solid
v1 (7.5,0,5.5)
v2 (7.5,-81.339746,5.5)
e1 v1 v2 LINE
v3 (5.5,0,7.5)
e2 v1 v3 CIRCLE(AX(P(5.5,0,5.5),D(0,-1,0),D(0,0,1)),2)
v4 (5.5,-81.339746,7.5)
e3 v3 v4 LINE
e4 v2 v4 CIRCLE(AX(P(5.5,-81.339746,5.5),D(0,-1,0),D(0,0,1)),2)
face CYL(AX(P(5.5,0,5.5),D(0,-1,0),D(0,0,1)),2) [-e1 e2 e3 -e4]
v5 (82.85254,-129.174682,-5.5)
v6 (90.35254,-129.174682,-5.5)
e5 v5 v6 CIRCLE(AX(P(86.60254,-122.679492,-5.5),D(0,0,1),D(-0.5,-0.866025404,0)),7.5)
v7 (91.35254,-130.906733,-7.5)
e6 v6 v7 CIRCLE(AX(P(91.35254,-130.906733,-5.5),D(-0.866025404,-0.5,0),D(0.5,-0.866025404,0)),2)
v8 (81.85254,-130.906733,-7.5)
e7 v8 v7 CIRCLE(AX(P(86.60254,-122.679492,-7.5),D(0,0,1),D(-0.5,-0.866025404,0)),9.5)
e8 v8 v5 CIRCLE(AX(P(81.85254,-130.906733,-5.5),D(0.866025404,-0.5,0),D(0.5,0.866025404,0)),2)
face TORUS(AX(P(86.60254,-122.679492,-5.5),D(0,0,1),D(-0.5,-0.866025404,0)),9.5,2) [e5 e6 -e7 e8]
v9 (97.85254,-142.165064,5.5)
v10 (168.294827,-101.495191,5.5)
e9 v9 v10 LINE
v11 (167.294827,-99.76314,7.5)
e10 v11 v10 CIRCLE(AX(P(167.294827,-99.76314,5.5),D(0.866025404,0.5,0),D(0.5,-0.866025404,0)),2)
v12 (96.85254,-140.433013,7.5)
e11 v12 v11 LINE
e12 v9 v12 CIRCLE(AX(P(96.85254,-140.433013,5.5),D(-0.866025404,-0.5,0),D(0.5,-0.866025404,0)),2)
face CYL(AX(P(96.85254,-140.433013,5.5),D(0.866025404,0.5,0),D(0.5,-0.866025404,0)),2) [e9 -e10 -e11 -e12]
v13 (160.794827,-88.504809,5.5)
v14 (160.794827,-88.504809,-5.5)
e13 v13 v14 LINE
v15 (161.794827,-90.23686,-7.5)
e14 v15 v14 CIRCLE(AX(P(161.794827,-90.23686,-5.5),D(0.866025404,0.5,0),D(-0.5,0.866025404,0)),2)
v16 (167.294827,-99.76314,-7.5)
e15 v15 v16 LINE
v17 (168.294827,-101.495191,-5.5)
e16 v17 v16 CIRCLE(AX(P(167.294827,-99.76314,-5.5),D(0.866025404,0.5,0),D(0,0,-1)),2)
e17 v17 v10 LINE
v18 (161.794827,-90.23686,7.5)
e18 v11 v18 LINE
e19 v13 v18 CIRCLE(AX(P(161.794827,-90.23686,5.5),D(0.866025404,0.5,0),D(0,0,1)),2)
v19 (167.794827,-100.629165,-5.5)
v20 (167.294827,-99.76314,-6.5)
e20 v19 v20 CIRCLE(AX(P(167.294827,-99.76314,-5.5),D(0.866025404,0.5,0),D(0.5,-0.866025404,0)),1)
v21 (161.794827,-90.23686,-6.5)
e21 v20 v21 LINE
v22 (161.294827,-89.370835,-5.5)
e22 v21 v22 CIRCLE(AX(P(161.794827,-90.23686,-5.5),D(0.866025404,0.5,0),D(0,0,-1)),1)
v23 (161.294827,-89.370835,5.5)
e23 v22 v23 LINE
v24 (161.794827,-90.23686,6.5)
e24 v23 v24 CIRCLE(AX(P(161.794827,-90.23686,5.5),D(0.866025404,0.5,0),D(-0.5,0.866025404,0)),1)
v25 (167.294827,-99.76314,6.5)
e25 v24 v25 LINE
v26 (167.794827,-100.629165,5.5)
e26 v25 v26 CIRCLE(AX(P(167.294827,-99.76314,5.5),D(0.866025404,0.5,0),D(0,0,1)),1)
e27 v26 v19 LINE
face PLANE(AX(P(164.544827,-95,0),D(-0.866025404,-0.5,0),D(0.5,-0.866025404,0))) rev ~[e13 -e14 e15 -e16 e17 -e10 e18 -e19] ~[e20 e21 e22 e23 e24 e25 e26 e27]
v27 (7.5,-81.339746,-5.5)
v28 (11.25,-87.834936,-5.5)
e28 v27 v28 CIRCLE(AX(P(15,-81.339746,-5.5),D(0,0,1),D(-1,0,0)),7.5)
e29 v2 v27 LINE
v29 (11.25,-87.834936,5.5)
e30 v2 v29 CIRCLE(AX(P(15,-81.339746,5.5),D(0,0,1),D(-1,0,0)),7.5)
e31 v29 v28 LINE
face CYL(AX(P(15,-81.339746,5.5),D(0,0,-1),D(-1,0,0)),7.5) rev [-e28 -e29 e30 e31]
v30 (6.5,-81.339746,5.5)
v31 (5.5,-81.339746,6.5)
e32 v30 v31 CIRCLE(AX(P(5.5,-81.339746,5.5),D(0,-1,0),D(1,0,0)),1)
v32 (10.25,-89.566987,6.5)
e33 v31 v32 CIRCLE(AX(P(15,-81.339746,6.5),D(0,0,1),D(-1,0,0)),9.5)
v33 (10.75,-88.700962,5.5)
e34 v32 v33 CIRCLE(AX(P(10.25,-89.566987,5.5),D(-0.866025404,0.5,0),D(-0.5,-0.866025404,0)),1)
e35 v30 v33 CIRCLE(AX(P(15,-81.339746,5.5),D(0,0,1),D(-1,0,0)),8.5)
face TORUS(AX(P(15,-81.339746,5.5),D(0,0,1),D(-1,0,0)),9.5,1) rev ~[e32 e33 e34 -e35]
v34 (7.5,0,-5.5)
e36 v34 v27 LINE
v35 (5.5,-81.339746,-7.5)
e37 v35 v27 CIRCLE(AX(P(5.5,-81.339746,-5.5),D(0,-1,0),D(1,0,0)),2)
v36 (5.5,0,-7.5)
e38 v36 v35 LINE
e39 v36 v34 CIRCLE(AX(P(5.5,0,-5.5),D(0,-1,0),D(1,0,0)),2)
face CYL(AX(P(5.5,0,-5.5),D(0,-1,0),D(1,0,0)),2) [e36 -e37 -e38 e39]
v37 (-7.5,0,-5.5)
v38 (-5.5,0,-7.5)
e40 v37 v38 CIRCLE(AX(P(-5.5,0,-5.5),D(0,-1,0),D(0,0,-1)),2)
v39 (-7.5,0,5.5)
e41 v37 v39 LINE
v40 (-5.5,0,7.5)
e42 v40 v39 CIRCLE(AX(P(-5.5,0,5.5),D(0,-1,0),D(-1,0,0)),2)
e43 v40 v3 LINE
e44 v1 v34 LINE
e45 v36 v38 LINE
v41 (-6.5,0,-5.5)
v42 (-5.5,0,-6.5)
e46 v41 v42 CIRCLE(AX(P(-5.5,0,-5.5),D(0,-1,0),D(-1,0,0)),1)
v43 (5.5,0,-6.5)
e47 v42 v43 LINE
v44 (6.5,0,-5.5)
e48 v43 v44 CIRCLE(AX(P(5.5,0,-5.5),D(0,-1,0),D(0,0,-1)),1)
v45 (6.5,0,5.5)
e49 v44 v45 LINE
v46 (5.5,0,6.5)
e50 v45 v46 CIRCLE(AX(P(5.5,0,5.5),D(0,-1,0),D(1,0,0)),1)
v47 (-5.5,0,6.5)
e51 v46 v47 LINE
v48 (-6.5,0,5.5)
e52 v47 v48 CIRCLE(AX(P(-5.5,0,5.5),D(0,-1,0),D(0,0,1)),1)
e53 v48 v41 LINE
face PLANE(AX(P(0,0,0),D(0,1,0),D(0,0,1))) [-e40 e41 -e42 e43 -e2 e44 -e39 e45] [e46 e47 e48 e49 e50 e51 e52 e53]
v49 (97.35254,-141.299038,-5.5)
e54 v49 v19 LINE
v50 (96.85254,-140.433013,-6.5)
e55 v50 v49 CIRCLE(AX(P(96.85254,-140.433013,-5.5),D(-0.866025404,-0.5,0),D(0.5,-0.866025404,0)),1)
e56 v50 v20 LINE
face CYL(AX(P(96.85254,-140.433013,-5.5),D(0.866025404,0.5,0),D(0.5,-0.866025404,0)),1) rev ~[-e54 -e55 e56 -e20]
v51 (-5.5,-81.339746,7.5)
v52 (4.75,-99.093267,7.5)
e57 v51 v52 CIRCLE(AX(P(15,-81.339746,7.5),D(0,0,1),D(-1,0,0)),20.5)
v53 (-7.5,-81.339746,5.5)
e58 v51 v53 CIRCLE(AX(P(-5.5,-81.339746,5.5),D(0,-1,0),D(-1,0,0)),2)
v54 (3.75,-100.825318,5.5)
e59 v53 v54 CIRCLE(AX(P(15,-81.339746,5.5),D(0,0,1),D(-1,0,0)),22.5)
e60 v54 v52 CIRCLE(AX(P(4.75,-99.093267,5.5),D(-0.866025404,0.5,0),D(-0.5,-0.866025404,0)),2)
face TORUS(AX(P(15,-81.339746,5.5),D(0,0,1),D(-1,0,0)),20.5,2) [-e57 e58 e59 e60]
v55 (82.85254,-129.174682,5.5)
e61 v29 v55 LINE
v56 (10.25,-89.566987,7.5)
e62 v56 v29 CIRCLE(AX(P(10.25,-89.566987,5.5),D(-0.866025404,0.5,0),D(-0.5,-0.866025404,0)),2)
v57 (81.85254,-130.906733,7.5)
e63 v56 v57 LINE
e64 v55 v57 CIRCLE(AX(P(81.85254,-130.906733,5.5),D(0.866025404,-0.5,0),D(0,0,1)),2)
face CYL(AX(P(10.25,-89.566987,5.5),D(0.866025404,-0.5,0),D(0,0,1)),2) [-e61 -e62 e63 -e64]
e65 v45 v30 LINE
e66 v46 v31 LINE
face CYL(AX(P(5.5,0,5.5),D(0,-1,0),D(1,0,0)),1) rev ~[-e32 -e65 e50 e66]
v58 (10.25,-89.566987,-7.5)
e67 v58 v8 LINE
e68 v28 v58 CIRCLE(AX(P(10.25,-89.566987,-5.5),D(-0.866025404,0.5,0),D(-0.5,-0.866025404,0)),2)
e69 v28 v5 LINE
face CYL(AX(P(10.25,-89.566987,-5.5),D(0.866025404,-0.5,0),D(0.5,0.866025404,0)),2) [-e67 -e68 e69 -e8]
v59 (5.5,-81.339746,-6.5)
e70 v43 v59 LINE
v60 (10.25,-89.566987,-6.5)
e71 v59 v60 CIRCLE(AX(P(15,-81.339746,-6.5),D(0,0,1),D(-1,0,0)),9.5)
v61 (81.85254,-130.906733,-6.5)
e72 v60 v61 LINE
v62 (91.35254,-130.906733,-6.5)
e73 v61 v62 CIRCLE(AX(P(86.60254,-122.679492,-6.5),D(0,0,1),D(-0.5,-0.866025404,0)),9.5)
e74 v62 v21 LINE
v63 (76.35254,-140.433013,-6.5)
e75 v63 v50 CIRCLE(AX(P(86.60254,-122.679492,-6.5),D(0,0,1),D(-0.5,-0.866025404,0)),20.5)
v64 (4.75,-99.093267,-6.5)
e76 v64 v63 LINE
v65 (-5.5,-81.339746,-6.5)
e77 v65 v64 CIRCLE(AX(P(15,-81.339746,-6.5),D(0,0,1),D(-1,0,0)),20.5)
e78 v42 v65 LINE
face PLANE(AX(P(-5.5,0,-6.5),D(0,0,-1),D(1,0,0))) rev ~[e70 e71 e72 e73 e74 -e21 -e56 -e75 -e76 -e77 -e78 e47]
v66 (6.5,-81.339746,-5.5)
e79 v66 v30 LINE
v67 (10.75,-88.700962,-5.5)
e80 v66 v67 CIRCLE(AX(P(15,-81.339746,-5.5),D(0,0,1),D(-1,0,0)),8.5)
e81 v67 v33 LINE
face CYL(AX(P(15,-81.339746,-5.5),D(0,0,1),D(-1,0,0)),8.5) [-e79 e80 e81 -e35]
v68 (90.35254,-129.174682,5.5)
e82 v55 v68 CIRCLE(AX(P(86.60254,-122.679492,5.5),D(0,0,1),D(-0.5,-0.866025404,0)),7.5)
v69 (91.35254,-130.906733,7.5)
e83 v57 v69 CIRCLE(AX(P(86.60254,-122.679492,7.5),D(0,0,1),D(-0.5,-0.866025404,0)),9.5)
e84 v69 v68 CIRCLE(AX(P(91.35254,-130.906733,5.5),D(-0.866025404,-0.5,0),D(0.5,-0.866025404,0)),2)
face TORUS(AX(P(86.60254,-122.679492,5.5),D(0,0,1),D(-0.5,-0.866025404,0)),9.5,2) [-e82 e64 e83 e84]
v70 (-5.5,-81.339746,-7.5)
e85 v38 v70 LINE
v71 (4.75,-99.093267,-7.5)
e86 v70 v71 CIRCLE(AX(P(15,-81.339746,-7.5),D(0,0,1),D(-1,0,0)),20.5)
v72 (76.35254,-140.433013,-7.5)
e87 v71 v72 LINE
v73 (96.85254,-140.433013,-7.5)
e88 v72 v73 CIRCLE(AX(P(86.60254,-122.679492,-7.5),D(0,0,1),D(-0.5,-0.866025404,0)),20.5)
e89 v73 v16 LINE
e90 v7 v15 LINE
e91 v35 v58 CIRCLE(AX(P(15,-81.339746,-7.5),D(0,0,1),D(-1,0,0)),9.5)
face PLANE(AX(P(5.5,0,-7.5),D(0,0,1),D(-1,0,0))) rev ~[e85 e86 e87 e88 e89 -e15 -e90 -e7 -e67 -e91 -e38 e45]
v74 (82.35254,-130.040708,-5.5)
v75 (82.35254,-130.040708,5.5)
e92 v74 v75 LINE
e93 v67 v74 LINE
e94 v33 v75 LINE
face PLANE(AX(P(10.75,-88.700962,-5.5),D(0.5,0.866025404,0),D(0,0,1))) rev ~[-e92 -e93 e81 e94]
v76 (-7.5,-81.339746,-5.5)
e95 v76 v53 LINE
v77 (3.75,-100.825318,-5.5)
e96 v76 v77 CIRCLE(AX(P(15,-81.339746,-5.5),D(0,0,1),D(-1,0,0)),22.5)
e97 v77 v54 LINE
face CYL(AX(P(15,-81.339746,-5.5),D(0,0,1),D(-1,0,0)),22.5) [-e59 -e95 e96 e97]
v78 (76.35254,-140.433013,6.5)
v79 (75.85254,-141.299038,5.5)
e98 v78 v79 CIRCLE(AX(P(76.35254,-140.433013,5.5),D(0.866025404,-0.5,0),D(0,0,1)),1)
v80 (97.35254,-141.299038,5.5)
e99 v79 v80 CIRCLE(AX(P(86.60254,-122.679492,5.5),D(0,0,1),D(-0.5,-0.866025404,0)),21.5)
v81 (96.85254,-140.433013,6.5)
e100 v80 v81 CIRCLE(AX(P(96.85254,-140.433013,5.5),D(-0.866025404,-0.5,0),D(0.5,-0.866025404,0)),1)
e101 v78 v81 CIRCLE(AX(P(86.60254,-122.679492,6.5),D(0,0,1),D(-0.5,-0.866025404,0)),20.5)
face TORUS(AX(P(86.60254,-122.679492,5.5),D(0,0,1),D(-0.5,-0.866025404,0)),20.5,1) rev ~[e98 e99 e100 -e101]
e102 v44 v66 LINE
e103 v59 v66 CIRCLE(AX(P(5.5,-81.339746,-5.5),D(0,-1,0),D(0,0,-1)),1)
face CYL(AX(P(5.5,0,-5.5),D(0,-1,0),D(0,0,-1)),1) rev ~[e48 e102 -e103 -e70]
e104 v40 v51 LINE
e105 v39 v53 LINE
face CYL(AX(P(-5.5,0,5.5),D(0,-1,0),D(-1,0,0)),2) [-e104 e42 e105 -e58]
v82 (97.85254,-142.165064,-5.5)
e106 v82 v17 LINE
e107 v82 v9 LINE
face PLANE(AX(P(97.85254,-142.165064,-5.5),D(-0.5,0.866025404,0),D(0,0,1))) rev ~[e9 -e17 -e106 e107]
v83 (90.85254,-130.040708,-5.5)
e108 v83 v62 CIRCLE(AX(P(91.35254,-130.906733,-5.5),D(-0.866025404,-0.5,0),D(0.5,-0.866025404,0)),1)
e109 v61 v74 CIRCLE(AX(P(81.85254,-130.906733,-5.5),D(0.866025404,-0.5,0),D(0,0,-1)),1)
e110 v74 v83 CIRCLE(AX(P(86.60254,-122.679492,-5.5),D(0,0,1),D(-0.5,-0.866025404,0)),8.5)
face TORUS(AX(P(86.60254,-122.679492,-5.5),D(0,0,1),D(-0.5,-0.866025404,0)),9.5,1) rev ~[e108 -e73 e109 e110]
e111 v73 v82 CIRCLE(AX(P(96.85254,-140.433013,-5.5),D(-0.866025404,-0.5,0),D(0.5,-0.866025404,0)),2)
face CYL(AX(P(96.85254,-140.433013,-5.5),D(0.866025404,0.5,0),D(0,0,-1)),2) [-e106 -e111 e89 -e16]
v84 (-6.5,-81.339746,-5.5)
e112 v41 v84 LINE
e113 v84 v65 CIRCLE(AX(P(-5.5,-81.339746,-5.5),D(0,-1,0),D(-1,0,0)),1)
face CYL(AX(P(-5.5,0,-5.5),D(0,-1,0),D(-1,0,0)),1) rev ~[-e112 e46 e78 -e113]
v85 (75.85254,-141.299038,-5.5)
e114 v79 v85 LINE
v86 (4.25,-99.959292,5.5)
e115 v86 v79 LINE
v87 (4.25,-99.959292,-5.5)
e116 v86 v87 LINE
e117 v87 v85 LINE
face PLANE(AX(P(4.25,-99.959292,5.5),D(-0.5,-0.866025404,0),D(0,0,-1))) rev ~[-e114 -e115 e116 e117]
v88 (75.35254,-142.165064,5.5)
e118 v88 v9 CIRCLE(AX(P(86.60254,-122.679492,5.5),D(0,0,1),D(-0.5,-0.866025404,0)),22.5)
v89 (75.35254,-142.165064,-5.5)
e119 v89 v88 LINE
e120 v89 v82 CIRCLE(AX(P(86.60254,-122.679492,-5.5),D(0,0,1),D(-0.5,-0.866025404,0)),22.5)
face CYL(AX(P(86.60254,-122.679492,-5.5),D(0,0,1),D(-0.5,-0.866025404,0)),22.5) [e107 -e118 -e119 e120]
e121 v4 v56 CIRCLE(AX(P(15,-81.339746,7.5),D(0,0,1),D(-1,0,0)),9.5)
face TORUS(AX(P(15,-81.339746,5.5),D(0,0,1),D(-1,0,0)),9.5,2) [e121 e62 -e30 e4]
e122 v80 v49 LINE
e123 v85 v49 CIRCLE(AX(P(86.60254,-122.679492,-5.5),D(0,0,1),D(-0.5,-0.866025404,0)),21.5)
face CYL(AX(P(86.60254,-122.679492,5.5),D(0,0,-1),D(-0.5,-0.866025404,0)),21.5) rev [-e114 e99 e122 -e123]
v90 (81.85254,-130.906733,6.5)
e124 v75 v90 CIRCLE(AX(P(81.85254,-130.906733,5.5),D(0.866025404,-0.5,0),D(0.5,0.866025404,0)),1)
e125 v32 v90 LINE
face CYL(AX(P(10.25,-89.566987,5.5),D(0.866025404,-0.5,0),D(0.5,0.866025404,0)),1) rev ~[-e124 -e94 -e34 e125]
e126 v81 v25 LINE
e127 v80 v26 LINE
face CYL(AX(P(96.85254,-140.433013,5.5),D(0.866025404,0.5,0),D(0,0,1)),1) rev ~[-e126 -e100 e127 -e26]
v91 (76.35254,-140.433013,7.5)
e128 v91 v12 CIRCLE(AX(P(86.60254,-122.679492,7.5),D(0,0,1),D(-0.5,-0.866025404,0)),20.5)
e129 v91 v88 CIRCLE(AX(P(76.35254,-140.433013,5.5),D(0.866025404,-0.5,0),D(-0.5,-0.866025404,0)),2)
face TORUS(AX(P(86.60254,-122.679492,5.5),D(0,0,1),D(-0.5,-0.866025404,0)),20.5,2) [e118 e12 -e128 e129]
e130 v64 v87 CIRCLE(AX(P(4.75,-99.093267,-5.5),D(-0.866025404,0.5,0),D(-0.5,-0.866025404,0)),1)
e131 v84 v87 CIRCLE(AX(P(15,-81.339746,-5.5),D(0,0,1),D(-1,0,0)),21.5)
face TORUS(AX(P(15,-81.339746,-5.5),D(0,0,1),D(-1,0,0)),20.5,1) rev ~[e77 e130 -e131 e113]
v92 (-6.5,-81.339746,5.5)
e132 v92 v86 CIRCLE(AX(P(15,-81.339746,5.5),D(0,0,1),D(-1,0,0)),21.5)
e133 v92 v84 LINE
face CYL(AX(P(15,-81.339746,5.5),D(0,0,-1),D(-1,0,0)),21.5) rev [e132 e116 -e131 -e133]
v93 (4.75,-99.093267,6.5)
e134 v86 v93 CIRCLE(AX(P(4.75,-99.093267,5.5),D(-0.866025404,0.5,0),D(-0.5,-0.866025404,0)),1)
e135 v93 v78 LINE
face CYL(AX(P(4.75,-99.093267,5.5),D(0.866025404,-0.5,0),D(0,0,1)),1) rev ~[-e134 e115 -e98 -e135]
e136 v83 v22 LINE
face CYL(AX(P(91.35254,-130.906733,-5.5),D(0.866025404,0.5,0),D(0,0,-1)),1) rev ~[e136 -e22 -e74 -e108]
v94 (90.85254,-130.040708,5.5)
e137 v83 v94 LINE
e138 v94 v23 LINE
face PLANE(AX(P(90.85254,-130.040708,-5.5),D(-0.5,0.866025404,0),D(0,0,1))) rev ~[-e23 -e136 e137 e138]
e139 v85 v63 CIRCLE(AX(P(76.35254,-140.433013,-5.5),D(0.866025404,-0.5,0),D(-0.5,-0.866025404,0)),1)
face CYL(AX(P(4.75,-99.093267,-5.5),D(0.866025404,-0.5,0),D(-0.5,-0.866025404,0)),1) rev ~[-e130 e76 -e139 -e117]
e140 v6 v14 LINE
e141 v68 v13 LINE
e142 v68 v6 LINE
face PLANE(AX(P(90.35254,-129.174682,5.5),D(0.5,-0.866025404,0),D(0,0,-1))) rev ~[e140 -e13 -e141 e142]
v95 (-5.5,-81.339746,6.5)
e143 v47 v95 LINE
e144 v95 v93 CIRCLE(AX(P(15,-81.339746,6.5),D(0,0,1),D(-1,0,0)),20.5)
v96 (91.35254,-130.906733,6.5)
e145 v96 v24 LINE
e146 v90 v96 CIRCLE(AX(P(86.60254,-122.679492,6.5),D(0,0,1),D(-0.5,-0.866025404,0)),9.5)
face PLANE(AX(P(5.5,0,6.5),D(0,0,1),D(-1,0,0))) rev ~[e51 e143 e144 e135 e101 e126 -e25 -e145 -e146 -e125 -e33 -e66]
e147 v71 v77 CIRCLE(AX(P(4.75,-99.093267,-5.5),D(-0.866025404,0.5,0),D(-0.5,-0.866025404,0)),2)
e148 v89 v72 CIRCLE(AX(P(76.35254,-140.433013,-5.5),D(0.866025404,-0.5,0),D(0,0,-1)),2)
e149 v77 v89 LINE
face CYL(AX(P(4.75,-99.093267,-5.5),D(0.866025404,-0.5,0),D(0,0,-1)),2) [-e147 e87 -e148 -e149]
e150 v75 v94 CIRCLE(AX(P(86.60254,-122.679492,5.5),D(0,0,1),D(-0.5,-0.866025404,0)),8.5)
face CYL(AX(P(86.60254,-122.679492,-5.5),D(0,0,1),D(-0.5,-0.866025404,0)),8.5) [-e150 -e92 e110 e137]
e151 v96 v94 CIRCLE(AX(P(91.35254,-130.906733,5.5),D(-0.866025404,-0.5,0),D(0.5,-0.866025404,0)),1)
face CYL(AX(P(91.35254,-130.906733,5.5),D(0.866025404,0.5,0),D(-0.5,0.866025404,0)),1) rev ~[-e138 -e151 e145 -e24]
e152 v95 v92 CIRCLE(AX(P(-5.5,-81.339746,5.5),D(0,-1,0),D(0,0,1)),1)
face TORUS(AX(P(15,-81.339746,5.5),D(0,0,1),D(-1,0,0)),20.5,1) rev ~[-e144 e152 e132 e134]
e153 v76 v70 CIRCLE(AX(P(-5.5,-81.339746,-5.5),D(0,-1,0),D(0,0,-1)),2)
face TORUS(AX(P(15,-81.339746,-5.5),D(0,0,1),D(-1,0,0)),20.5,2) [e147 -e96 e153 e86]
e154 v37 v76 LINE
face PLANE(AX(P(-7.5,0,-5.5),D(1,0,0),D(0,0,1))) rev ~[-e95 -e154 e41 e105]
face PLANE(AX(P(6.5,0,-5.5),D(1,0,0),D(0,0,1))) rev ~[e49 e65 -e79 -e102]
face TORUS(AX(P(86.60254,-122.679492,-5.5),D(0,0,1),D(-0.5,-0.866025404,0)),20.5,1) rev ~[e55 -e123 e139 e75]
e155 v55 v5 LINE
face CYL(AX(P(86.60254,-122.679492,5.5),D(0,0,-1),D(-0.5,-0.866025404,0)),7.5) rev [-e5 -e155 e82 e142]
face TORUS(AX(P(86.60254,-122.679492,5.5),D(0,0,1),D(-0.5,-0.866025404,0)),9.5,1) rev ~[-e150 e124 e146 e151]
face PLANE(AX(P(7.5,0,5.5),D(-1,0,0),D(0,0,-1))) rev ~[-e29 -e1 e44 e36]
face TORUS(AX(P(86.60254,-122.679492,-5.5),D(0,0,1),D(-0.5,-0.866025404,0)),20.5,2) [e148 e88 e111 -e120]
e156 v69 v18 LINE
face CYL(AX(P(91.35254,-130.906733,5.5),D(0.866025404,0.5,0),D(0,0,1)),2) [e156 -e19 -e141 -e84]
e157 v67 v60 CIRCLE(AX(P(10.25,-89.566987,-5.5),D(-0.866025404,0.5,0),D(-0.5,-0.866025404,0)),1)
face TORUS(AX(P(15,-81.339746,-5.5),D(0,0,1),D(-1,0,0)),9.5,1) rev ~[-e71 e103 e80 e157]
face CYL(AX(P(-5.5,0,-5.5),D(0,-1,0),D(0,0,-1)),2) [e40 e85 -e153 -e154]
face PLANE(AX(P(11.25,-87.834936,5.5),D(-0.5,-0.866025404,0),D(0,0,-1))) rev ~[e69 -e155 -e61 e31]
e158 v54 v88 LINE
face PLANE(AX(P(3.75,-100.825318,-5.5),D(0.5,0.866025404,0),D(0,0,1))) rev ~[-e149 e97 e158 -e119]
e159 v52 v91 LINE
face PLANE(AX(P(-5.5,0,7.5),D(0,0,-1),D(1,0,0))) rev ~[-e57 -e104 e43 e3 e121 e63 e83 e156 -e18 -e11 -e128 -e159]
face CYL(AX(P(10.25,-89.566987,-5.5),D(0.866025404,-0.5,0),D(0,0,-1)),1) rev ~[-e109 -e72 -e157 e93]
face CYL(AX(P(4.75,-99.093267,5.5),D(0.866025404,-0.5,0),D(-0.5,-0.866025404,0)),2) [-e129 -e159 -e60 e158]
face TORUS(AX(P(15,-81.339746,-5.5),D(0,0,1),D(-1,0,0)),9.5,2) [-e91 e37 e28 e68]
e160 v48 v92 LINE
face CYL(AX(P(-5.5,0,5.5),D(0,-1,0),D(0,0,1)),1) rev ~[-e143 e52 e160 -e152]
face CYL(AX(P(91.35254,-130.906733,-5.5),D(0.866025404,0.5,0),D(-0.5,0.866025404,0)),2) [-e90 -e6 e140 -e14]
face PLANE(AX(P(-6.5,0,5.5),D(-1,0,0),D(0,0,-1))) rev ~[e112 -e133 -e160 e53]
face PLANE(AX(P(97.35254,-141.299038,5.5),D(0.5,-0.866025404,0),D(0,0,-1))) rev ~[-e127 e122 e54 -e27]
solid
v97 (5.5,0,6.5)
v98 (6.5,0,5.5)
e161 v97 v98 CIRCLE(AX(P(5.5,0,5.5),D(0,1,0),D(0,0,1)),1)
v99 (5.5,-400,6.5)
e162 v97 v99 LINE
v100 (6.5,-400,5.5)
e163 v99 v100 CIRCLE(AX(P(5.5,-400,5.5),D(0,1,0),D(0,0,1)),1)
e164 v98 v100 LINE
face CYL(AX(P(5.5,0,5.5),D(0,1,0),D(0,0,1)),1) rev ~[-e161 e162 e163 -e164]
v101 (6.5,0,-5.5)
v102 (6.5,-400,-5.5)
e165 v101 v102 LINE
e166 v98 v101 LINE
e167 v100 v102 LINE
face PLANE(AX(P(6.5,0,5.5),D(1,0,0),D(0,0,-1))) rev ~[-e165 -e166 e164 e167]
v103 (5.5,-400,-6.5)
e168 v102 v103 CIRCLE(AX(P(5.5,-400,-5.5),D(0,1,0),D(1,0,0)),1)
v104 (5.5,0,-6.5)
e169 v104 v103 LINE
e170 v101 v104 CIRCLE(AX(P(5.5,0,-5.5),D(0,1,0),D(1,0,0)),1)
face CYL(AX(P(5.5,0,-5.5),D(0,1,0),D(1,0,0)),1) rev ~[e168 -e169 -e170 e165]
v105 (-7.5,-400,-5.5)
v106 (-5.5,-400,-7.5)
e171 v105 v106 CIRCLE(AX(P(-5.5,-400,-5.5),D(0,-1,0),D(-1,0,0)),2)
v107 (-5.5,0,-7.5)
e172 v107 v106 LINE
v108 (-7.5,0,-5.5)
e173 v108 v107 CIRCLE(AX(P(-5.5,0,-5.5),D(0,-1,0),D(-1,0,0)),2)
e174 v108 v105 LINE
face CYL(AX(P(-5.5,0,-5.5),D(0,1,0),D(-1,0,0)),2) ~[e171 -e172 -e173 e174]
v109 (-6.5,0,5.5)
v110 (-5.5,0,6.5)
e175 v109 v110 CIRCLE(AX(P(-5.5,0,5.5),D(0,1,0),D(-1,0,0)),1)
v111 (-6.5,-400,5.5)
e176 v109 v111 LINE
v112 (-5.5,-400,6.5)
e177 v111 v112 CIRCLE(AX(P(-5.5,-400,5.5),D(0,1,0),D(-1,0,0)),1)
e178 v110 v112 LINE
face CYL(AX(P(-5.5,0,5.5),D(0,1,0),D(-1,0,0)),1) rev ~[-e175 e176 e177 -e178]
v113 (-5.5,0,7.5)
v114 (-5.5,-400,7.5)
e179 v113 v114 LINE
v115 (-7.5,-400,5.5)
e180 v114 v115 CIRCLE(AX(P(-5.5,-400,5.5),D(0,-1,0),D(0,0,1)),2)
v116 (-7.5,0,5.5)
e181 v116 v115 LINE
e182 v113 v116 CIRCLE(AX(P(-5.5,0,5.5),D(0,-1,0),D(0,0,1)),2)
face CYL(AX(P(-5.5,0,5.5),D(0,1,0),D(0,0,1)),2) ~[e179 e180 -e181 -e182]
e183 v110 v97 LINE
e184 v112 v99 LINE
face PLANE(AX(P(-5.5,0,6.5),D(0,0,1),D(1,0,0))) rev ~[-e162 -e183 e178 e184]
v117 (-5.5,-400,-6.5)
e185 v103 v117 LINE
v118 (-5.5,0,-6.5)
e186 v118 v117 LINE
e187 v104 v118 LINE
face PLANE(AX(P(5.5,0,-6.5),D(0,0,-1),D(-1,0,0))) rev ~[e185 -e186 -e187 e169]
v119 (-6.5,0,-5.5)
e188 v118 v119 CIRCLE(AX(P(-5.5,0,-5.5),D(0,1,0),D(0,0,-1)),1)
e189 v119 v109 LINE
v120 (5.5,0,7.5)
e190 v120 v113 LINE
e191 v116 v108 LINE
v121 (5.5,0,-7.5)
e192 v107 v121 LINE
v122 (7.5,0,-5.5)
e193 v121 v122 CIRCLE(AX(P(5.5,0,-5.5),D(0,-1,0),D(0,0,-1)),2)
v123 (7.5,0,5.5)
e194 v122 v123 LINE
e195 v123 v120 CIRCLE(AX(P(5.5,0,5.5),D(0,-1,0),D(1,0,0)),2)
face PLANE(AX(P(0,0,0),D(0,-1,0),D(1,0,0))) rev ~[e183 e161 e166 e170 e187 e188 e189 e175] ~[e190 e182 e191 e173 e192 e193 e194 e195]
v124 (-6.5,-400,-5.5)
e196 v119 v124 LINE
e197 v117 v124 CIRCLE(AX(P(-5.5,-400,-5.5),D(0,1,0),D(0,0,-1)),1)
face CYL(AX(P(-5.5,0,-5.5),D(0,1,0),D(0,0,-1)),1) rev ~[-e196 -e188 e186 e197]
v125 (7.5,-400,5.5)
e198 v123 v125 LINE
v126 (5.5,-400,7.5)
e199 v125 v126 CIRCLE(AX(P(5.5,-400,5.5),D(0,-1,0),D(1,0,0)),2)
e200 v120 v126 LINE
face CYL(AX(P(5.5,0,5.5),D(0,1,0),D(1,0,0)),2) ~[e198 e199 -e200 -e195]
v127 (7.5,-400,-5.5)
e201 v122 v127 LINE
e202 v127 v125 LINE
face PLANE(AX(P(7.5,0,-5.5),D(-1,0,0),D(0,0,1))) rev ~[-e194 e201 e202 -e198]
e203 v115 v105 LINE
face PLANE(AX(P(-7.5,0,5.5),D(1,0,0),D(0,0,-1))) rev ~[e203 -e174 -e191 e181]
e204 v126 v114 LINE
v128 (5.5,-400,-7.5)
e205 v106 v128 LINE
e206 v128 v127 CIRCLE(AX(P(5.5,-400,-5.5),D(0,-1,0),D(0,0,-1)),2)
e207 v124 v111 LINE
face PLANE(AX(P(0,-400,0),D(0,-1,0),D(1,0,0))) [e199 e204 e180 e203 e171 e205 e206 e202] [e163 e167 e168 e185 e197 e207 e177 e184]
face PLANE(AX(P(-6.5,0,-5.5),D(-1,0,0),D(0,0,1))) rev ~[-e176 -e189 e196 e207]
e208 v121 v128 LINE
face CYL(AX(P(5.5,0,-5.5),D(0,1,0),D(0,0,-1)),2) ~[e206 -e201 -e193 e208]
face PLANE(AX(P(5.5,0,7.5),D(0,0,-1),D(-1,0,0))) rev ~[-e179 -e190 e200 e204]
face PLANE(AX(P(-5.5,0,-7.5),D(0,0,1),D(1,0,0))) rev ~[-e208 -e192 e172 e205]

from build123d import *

# Parameters (mm, degrees)
F1_DEPTH = 400


with BuildPart() as f1:
    # F0 (on Front) → F1 (new body)
    with BuildSketch(Plane.XZ):
        with BuildLine():
            ThreePointArc((7.5, 5.5), (6.9142135624, 6.9142135624), (5.5, 7.5))
            Line((5.5, 7.5), (-5.5, 7.5))
            ThreePointArc((-5.5, 7.5), (-6.9142135624, 6.9142135624), (-7.5, 5.5))
            Line((-7.5, 5.5), (-7.5, -5.5))
            ThreePointArc((-7.5, -5.5), (-6.9142135624, -6.9142135624), (-5.5, -7.5))
            Line((-5.5, -7.5), (5.5, -7.5))
            ThreePointArc((5.5, -7.5), (6.9142135624, -6.9142135624), (7.5, -5.5))
            Line((7.5, -5.5), (7.5, 5.5))
        make_face()
        with BuildLine():
            Line((-5.5, 6.5), (5.5, 6.5))
            ThreePointArc((5.5, 6.5), (6.2071067812, 6.2071067812), (6.5, 5.5))
            Line((6.5, 5.5), (6.5, -5.5))
            ThreePointArc((6.5, -5.5), (6.2071067812, -6.2071067812), (5.5, -6.5))
            Line((5.5, -6.5), (-5.5, -6.5))
            ThreePointArc((-5.5, -6.5), (-6.2071067812, -6.2071067812), (-6.5, -5.5))
            Line((-6.5, -5.5), (-6.5, 5.5))
            ThreePointArc((-6.5, 5.5), (-6.2071067812, 6.2071067812), (-5.5, 6.5))
        make_face(mode=Mode.SUBTRACT)
    extrude(amount=F1_DEPTH)


with BuildPart() as f3:
    # F3: sweep along a path in F2
    with BuildLine(Plane.XY) as f3_path:
        Line((0, 0), (0, -81.3397459622))
        ThreePointArc((0, -81.3397459622), (2.0096189432, -88.8397459622), (7.5, -94.3301270189))
        Line((7.5, -94.3301270189), (79.1025403784, -135.6698729811))
        ThreePointArc((79.1025403784, -135.6698729811), (86.6025403784, -137.6794919243), (94.1025403784, -135.6698729811))
        Line((94.1025403784, -135.6698729811), (164.544826719, -95))
    # F1_face (on face) → F3 (sweep)
    with BuildSketch(Plane(origin=(0, 0, 0), x_dir=(1, 0, 0), z_dir=(0, 1, 0))):
        with BuildLine():
            ThreePointArc((5.5, -7.5), (6.9142135624, -6.9142135624), (7.5, -5.5))
            Line((7.5, -5.5), (7.5, 5.5))
            ThreePointArc((7.5, 5.5), (6.9142135624, 6.9142135624), (5.5, 7.5))
            Line((5.5, 7.5), (-5.5, 7.5))
            ThreePointArc((-5.5, 7.5), (-6.9142135624, 6.9142135624), (-7.5, 5.5))
            Line((-7.5, 5.5), (-7.5, -5.5))
            ThreePointArc((-7.5, -5.5), (-6.9142135624, -6.9142135624), (-5.5, -7.5))
            Line((-5.5, -7.5), (5.5, -7.5))
        make_face()
        with BuildLine():
            Line((5.5, -6.5), (-5.5, -6.5))
            ThreePointArc((-5.5, -6.5), (-6.2071067812, -6.2071067812), (-6.5, -5.5))
            Line((-6.5, -5.5), (-6.5, 5.5))
            ThreePointArc((-6.5, 5.5), (-6.2071067812, 6.2071067812), (-5.5, 6.5))
            Line((-5.5, 6.5), (5.5, 6.5))
            ThreePointArc((5.5, 6.5), (6.2071067812, 6.2071067812), (6.5, 5.5))
            Line((6.5, 5.5), (6.5, -5.5))
            ThreePointArc((6.5, -5.5), (6.2071067812, -6.2071067812), (5.5, -6.5))
        make_face(mode=Mode.SUBTRACT)
    sweep(path=f3_path.line)


solid = Compound([f1.part, f3.part])
